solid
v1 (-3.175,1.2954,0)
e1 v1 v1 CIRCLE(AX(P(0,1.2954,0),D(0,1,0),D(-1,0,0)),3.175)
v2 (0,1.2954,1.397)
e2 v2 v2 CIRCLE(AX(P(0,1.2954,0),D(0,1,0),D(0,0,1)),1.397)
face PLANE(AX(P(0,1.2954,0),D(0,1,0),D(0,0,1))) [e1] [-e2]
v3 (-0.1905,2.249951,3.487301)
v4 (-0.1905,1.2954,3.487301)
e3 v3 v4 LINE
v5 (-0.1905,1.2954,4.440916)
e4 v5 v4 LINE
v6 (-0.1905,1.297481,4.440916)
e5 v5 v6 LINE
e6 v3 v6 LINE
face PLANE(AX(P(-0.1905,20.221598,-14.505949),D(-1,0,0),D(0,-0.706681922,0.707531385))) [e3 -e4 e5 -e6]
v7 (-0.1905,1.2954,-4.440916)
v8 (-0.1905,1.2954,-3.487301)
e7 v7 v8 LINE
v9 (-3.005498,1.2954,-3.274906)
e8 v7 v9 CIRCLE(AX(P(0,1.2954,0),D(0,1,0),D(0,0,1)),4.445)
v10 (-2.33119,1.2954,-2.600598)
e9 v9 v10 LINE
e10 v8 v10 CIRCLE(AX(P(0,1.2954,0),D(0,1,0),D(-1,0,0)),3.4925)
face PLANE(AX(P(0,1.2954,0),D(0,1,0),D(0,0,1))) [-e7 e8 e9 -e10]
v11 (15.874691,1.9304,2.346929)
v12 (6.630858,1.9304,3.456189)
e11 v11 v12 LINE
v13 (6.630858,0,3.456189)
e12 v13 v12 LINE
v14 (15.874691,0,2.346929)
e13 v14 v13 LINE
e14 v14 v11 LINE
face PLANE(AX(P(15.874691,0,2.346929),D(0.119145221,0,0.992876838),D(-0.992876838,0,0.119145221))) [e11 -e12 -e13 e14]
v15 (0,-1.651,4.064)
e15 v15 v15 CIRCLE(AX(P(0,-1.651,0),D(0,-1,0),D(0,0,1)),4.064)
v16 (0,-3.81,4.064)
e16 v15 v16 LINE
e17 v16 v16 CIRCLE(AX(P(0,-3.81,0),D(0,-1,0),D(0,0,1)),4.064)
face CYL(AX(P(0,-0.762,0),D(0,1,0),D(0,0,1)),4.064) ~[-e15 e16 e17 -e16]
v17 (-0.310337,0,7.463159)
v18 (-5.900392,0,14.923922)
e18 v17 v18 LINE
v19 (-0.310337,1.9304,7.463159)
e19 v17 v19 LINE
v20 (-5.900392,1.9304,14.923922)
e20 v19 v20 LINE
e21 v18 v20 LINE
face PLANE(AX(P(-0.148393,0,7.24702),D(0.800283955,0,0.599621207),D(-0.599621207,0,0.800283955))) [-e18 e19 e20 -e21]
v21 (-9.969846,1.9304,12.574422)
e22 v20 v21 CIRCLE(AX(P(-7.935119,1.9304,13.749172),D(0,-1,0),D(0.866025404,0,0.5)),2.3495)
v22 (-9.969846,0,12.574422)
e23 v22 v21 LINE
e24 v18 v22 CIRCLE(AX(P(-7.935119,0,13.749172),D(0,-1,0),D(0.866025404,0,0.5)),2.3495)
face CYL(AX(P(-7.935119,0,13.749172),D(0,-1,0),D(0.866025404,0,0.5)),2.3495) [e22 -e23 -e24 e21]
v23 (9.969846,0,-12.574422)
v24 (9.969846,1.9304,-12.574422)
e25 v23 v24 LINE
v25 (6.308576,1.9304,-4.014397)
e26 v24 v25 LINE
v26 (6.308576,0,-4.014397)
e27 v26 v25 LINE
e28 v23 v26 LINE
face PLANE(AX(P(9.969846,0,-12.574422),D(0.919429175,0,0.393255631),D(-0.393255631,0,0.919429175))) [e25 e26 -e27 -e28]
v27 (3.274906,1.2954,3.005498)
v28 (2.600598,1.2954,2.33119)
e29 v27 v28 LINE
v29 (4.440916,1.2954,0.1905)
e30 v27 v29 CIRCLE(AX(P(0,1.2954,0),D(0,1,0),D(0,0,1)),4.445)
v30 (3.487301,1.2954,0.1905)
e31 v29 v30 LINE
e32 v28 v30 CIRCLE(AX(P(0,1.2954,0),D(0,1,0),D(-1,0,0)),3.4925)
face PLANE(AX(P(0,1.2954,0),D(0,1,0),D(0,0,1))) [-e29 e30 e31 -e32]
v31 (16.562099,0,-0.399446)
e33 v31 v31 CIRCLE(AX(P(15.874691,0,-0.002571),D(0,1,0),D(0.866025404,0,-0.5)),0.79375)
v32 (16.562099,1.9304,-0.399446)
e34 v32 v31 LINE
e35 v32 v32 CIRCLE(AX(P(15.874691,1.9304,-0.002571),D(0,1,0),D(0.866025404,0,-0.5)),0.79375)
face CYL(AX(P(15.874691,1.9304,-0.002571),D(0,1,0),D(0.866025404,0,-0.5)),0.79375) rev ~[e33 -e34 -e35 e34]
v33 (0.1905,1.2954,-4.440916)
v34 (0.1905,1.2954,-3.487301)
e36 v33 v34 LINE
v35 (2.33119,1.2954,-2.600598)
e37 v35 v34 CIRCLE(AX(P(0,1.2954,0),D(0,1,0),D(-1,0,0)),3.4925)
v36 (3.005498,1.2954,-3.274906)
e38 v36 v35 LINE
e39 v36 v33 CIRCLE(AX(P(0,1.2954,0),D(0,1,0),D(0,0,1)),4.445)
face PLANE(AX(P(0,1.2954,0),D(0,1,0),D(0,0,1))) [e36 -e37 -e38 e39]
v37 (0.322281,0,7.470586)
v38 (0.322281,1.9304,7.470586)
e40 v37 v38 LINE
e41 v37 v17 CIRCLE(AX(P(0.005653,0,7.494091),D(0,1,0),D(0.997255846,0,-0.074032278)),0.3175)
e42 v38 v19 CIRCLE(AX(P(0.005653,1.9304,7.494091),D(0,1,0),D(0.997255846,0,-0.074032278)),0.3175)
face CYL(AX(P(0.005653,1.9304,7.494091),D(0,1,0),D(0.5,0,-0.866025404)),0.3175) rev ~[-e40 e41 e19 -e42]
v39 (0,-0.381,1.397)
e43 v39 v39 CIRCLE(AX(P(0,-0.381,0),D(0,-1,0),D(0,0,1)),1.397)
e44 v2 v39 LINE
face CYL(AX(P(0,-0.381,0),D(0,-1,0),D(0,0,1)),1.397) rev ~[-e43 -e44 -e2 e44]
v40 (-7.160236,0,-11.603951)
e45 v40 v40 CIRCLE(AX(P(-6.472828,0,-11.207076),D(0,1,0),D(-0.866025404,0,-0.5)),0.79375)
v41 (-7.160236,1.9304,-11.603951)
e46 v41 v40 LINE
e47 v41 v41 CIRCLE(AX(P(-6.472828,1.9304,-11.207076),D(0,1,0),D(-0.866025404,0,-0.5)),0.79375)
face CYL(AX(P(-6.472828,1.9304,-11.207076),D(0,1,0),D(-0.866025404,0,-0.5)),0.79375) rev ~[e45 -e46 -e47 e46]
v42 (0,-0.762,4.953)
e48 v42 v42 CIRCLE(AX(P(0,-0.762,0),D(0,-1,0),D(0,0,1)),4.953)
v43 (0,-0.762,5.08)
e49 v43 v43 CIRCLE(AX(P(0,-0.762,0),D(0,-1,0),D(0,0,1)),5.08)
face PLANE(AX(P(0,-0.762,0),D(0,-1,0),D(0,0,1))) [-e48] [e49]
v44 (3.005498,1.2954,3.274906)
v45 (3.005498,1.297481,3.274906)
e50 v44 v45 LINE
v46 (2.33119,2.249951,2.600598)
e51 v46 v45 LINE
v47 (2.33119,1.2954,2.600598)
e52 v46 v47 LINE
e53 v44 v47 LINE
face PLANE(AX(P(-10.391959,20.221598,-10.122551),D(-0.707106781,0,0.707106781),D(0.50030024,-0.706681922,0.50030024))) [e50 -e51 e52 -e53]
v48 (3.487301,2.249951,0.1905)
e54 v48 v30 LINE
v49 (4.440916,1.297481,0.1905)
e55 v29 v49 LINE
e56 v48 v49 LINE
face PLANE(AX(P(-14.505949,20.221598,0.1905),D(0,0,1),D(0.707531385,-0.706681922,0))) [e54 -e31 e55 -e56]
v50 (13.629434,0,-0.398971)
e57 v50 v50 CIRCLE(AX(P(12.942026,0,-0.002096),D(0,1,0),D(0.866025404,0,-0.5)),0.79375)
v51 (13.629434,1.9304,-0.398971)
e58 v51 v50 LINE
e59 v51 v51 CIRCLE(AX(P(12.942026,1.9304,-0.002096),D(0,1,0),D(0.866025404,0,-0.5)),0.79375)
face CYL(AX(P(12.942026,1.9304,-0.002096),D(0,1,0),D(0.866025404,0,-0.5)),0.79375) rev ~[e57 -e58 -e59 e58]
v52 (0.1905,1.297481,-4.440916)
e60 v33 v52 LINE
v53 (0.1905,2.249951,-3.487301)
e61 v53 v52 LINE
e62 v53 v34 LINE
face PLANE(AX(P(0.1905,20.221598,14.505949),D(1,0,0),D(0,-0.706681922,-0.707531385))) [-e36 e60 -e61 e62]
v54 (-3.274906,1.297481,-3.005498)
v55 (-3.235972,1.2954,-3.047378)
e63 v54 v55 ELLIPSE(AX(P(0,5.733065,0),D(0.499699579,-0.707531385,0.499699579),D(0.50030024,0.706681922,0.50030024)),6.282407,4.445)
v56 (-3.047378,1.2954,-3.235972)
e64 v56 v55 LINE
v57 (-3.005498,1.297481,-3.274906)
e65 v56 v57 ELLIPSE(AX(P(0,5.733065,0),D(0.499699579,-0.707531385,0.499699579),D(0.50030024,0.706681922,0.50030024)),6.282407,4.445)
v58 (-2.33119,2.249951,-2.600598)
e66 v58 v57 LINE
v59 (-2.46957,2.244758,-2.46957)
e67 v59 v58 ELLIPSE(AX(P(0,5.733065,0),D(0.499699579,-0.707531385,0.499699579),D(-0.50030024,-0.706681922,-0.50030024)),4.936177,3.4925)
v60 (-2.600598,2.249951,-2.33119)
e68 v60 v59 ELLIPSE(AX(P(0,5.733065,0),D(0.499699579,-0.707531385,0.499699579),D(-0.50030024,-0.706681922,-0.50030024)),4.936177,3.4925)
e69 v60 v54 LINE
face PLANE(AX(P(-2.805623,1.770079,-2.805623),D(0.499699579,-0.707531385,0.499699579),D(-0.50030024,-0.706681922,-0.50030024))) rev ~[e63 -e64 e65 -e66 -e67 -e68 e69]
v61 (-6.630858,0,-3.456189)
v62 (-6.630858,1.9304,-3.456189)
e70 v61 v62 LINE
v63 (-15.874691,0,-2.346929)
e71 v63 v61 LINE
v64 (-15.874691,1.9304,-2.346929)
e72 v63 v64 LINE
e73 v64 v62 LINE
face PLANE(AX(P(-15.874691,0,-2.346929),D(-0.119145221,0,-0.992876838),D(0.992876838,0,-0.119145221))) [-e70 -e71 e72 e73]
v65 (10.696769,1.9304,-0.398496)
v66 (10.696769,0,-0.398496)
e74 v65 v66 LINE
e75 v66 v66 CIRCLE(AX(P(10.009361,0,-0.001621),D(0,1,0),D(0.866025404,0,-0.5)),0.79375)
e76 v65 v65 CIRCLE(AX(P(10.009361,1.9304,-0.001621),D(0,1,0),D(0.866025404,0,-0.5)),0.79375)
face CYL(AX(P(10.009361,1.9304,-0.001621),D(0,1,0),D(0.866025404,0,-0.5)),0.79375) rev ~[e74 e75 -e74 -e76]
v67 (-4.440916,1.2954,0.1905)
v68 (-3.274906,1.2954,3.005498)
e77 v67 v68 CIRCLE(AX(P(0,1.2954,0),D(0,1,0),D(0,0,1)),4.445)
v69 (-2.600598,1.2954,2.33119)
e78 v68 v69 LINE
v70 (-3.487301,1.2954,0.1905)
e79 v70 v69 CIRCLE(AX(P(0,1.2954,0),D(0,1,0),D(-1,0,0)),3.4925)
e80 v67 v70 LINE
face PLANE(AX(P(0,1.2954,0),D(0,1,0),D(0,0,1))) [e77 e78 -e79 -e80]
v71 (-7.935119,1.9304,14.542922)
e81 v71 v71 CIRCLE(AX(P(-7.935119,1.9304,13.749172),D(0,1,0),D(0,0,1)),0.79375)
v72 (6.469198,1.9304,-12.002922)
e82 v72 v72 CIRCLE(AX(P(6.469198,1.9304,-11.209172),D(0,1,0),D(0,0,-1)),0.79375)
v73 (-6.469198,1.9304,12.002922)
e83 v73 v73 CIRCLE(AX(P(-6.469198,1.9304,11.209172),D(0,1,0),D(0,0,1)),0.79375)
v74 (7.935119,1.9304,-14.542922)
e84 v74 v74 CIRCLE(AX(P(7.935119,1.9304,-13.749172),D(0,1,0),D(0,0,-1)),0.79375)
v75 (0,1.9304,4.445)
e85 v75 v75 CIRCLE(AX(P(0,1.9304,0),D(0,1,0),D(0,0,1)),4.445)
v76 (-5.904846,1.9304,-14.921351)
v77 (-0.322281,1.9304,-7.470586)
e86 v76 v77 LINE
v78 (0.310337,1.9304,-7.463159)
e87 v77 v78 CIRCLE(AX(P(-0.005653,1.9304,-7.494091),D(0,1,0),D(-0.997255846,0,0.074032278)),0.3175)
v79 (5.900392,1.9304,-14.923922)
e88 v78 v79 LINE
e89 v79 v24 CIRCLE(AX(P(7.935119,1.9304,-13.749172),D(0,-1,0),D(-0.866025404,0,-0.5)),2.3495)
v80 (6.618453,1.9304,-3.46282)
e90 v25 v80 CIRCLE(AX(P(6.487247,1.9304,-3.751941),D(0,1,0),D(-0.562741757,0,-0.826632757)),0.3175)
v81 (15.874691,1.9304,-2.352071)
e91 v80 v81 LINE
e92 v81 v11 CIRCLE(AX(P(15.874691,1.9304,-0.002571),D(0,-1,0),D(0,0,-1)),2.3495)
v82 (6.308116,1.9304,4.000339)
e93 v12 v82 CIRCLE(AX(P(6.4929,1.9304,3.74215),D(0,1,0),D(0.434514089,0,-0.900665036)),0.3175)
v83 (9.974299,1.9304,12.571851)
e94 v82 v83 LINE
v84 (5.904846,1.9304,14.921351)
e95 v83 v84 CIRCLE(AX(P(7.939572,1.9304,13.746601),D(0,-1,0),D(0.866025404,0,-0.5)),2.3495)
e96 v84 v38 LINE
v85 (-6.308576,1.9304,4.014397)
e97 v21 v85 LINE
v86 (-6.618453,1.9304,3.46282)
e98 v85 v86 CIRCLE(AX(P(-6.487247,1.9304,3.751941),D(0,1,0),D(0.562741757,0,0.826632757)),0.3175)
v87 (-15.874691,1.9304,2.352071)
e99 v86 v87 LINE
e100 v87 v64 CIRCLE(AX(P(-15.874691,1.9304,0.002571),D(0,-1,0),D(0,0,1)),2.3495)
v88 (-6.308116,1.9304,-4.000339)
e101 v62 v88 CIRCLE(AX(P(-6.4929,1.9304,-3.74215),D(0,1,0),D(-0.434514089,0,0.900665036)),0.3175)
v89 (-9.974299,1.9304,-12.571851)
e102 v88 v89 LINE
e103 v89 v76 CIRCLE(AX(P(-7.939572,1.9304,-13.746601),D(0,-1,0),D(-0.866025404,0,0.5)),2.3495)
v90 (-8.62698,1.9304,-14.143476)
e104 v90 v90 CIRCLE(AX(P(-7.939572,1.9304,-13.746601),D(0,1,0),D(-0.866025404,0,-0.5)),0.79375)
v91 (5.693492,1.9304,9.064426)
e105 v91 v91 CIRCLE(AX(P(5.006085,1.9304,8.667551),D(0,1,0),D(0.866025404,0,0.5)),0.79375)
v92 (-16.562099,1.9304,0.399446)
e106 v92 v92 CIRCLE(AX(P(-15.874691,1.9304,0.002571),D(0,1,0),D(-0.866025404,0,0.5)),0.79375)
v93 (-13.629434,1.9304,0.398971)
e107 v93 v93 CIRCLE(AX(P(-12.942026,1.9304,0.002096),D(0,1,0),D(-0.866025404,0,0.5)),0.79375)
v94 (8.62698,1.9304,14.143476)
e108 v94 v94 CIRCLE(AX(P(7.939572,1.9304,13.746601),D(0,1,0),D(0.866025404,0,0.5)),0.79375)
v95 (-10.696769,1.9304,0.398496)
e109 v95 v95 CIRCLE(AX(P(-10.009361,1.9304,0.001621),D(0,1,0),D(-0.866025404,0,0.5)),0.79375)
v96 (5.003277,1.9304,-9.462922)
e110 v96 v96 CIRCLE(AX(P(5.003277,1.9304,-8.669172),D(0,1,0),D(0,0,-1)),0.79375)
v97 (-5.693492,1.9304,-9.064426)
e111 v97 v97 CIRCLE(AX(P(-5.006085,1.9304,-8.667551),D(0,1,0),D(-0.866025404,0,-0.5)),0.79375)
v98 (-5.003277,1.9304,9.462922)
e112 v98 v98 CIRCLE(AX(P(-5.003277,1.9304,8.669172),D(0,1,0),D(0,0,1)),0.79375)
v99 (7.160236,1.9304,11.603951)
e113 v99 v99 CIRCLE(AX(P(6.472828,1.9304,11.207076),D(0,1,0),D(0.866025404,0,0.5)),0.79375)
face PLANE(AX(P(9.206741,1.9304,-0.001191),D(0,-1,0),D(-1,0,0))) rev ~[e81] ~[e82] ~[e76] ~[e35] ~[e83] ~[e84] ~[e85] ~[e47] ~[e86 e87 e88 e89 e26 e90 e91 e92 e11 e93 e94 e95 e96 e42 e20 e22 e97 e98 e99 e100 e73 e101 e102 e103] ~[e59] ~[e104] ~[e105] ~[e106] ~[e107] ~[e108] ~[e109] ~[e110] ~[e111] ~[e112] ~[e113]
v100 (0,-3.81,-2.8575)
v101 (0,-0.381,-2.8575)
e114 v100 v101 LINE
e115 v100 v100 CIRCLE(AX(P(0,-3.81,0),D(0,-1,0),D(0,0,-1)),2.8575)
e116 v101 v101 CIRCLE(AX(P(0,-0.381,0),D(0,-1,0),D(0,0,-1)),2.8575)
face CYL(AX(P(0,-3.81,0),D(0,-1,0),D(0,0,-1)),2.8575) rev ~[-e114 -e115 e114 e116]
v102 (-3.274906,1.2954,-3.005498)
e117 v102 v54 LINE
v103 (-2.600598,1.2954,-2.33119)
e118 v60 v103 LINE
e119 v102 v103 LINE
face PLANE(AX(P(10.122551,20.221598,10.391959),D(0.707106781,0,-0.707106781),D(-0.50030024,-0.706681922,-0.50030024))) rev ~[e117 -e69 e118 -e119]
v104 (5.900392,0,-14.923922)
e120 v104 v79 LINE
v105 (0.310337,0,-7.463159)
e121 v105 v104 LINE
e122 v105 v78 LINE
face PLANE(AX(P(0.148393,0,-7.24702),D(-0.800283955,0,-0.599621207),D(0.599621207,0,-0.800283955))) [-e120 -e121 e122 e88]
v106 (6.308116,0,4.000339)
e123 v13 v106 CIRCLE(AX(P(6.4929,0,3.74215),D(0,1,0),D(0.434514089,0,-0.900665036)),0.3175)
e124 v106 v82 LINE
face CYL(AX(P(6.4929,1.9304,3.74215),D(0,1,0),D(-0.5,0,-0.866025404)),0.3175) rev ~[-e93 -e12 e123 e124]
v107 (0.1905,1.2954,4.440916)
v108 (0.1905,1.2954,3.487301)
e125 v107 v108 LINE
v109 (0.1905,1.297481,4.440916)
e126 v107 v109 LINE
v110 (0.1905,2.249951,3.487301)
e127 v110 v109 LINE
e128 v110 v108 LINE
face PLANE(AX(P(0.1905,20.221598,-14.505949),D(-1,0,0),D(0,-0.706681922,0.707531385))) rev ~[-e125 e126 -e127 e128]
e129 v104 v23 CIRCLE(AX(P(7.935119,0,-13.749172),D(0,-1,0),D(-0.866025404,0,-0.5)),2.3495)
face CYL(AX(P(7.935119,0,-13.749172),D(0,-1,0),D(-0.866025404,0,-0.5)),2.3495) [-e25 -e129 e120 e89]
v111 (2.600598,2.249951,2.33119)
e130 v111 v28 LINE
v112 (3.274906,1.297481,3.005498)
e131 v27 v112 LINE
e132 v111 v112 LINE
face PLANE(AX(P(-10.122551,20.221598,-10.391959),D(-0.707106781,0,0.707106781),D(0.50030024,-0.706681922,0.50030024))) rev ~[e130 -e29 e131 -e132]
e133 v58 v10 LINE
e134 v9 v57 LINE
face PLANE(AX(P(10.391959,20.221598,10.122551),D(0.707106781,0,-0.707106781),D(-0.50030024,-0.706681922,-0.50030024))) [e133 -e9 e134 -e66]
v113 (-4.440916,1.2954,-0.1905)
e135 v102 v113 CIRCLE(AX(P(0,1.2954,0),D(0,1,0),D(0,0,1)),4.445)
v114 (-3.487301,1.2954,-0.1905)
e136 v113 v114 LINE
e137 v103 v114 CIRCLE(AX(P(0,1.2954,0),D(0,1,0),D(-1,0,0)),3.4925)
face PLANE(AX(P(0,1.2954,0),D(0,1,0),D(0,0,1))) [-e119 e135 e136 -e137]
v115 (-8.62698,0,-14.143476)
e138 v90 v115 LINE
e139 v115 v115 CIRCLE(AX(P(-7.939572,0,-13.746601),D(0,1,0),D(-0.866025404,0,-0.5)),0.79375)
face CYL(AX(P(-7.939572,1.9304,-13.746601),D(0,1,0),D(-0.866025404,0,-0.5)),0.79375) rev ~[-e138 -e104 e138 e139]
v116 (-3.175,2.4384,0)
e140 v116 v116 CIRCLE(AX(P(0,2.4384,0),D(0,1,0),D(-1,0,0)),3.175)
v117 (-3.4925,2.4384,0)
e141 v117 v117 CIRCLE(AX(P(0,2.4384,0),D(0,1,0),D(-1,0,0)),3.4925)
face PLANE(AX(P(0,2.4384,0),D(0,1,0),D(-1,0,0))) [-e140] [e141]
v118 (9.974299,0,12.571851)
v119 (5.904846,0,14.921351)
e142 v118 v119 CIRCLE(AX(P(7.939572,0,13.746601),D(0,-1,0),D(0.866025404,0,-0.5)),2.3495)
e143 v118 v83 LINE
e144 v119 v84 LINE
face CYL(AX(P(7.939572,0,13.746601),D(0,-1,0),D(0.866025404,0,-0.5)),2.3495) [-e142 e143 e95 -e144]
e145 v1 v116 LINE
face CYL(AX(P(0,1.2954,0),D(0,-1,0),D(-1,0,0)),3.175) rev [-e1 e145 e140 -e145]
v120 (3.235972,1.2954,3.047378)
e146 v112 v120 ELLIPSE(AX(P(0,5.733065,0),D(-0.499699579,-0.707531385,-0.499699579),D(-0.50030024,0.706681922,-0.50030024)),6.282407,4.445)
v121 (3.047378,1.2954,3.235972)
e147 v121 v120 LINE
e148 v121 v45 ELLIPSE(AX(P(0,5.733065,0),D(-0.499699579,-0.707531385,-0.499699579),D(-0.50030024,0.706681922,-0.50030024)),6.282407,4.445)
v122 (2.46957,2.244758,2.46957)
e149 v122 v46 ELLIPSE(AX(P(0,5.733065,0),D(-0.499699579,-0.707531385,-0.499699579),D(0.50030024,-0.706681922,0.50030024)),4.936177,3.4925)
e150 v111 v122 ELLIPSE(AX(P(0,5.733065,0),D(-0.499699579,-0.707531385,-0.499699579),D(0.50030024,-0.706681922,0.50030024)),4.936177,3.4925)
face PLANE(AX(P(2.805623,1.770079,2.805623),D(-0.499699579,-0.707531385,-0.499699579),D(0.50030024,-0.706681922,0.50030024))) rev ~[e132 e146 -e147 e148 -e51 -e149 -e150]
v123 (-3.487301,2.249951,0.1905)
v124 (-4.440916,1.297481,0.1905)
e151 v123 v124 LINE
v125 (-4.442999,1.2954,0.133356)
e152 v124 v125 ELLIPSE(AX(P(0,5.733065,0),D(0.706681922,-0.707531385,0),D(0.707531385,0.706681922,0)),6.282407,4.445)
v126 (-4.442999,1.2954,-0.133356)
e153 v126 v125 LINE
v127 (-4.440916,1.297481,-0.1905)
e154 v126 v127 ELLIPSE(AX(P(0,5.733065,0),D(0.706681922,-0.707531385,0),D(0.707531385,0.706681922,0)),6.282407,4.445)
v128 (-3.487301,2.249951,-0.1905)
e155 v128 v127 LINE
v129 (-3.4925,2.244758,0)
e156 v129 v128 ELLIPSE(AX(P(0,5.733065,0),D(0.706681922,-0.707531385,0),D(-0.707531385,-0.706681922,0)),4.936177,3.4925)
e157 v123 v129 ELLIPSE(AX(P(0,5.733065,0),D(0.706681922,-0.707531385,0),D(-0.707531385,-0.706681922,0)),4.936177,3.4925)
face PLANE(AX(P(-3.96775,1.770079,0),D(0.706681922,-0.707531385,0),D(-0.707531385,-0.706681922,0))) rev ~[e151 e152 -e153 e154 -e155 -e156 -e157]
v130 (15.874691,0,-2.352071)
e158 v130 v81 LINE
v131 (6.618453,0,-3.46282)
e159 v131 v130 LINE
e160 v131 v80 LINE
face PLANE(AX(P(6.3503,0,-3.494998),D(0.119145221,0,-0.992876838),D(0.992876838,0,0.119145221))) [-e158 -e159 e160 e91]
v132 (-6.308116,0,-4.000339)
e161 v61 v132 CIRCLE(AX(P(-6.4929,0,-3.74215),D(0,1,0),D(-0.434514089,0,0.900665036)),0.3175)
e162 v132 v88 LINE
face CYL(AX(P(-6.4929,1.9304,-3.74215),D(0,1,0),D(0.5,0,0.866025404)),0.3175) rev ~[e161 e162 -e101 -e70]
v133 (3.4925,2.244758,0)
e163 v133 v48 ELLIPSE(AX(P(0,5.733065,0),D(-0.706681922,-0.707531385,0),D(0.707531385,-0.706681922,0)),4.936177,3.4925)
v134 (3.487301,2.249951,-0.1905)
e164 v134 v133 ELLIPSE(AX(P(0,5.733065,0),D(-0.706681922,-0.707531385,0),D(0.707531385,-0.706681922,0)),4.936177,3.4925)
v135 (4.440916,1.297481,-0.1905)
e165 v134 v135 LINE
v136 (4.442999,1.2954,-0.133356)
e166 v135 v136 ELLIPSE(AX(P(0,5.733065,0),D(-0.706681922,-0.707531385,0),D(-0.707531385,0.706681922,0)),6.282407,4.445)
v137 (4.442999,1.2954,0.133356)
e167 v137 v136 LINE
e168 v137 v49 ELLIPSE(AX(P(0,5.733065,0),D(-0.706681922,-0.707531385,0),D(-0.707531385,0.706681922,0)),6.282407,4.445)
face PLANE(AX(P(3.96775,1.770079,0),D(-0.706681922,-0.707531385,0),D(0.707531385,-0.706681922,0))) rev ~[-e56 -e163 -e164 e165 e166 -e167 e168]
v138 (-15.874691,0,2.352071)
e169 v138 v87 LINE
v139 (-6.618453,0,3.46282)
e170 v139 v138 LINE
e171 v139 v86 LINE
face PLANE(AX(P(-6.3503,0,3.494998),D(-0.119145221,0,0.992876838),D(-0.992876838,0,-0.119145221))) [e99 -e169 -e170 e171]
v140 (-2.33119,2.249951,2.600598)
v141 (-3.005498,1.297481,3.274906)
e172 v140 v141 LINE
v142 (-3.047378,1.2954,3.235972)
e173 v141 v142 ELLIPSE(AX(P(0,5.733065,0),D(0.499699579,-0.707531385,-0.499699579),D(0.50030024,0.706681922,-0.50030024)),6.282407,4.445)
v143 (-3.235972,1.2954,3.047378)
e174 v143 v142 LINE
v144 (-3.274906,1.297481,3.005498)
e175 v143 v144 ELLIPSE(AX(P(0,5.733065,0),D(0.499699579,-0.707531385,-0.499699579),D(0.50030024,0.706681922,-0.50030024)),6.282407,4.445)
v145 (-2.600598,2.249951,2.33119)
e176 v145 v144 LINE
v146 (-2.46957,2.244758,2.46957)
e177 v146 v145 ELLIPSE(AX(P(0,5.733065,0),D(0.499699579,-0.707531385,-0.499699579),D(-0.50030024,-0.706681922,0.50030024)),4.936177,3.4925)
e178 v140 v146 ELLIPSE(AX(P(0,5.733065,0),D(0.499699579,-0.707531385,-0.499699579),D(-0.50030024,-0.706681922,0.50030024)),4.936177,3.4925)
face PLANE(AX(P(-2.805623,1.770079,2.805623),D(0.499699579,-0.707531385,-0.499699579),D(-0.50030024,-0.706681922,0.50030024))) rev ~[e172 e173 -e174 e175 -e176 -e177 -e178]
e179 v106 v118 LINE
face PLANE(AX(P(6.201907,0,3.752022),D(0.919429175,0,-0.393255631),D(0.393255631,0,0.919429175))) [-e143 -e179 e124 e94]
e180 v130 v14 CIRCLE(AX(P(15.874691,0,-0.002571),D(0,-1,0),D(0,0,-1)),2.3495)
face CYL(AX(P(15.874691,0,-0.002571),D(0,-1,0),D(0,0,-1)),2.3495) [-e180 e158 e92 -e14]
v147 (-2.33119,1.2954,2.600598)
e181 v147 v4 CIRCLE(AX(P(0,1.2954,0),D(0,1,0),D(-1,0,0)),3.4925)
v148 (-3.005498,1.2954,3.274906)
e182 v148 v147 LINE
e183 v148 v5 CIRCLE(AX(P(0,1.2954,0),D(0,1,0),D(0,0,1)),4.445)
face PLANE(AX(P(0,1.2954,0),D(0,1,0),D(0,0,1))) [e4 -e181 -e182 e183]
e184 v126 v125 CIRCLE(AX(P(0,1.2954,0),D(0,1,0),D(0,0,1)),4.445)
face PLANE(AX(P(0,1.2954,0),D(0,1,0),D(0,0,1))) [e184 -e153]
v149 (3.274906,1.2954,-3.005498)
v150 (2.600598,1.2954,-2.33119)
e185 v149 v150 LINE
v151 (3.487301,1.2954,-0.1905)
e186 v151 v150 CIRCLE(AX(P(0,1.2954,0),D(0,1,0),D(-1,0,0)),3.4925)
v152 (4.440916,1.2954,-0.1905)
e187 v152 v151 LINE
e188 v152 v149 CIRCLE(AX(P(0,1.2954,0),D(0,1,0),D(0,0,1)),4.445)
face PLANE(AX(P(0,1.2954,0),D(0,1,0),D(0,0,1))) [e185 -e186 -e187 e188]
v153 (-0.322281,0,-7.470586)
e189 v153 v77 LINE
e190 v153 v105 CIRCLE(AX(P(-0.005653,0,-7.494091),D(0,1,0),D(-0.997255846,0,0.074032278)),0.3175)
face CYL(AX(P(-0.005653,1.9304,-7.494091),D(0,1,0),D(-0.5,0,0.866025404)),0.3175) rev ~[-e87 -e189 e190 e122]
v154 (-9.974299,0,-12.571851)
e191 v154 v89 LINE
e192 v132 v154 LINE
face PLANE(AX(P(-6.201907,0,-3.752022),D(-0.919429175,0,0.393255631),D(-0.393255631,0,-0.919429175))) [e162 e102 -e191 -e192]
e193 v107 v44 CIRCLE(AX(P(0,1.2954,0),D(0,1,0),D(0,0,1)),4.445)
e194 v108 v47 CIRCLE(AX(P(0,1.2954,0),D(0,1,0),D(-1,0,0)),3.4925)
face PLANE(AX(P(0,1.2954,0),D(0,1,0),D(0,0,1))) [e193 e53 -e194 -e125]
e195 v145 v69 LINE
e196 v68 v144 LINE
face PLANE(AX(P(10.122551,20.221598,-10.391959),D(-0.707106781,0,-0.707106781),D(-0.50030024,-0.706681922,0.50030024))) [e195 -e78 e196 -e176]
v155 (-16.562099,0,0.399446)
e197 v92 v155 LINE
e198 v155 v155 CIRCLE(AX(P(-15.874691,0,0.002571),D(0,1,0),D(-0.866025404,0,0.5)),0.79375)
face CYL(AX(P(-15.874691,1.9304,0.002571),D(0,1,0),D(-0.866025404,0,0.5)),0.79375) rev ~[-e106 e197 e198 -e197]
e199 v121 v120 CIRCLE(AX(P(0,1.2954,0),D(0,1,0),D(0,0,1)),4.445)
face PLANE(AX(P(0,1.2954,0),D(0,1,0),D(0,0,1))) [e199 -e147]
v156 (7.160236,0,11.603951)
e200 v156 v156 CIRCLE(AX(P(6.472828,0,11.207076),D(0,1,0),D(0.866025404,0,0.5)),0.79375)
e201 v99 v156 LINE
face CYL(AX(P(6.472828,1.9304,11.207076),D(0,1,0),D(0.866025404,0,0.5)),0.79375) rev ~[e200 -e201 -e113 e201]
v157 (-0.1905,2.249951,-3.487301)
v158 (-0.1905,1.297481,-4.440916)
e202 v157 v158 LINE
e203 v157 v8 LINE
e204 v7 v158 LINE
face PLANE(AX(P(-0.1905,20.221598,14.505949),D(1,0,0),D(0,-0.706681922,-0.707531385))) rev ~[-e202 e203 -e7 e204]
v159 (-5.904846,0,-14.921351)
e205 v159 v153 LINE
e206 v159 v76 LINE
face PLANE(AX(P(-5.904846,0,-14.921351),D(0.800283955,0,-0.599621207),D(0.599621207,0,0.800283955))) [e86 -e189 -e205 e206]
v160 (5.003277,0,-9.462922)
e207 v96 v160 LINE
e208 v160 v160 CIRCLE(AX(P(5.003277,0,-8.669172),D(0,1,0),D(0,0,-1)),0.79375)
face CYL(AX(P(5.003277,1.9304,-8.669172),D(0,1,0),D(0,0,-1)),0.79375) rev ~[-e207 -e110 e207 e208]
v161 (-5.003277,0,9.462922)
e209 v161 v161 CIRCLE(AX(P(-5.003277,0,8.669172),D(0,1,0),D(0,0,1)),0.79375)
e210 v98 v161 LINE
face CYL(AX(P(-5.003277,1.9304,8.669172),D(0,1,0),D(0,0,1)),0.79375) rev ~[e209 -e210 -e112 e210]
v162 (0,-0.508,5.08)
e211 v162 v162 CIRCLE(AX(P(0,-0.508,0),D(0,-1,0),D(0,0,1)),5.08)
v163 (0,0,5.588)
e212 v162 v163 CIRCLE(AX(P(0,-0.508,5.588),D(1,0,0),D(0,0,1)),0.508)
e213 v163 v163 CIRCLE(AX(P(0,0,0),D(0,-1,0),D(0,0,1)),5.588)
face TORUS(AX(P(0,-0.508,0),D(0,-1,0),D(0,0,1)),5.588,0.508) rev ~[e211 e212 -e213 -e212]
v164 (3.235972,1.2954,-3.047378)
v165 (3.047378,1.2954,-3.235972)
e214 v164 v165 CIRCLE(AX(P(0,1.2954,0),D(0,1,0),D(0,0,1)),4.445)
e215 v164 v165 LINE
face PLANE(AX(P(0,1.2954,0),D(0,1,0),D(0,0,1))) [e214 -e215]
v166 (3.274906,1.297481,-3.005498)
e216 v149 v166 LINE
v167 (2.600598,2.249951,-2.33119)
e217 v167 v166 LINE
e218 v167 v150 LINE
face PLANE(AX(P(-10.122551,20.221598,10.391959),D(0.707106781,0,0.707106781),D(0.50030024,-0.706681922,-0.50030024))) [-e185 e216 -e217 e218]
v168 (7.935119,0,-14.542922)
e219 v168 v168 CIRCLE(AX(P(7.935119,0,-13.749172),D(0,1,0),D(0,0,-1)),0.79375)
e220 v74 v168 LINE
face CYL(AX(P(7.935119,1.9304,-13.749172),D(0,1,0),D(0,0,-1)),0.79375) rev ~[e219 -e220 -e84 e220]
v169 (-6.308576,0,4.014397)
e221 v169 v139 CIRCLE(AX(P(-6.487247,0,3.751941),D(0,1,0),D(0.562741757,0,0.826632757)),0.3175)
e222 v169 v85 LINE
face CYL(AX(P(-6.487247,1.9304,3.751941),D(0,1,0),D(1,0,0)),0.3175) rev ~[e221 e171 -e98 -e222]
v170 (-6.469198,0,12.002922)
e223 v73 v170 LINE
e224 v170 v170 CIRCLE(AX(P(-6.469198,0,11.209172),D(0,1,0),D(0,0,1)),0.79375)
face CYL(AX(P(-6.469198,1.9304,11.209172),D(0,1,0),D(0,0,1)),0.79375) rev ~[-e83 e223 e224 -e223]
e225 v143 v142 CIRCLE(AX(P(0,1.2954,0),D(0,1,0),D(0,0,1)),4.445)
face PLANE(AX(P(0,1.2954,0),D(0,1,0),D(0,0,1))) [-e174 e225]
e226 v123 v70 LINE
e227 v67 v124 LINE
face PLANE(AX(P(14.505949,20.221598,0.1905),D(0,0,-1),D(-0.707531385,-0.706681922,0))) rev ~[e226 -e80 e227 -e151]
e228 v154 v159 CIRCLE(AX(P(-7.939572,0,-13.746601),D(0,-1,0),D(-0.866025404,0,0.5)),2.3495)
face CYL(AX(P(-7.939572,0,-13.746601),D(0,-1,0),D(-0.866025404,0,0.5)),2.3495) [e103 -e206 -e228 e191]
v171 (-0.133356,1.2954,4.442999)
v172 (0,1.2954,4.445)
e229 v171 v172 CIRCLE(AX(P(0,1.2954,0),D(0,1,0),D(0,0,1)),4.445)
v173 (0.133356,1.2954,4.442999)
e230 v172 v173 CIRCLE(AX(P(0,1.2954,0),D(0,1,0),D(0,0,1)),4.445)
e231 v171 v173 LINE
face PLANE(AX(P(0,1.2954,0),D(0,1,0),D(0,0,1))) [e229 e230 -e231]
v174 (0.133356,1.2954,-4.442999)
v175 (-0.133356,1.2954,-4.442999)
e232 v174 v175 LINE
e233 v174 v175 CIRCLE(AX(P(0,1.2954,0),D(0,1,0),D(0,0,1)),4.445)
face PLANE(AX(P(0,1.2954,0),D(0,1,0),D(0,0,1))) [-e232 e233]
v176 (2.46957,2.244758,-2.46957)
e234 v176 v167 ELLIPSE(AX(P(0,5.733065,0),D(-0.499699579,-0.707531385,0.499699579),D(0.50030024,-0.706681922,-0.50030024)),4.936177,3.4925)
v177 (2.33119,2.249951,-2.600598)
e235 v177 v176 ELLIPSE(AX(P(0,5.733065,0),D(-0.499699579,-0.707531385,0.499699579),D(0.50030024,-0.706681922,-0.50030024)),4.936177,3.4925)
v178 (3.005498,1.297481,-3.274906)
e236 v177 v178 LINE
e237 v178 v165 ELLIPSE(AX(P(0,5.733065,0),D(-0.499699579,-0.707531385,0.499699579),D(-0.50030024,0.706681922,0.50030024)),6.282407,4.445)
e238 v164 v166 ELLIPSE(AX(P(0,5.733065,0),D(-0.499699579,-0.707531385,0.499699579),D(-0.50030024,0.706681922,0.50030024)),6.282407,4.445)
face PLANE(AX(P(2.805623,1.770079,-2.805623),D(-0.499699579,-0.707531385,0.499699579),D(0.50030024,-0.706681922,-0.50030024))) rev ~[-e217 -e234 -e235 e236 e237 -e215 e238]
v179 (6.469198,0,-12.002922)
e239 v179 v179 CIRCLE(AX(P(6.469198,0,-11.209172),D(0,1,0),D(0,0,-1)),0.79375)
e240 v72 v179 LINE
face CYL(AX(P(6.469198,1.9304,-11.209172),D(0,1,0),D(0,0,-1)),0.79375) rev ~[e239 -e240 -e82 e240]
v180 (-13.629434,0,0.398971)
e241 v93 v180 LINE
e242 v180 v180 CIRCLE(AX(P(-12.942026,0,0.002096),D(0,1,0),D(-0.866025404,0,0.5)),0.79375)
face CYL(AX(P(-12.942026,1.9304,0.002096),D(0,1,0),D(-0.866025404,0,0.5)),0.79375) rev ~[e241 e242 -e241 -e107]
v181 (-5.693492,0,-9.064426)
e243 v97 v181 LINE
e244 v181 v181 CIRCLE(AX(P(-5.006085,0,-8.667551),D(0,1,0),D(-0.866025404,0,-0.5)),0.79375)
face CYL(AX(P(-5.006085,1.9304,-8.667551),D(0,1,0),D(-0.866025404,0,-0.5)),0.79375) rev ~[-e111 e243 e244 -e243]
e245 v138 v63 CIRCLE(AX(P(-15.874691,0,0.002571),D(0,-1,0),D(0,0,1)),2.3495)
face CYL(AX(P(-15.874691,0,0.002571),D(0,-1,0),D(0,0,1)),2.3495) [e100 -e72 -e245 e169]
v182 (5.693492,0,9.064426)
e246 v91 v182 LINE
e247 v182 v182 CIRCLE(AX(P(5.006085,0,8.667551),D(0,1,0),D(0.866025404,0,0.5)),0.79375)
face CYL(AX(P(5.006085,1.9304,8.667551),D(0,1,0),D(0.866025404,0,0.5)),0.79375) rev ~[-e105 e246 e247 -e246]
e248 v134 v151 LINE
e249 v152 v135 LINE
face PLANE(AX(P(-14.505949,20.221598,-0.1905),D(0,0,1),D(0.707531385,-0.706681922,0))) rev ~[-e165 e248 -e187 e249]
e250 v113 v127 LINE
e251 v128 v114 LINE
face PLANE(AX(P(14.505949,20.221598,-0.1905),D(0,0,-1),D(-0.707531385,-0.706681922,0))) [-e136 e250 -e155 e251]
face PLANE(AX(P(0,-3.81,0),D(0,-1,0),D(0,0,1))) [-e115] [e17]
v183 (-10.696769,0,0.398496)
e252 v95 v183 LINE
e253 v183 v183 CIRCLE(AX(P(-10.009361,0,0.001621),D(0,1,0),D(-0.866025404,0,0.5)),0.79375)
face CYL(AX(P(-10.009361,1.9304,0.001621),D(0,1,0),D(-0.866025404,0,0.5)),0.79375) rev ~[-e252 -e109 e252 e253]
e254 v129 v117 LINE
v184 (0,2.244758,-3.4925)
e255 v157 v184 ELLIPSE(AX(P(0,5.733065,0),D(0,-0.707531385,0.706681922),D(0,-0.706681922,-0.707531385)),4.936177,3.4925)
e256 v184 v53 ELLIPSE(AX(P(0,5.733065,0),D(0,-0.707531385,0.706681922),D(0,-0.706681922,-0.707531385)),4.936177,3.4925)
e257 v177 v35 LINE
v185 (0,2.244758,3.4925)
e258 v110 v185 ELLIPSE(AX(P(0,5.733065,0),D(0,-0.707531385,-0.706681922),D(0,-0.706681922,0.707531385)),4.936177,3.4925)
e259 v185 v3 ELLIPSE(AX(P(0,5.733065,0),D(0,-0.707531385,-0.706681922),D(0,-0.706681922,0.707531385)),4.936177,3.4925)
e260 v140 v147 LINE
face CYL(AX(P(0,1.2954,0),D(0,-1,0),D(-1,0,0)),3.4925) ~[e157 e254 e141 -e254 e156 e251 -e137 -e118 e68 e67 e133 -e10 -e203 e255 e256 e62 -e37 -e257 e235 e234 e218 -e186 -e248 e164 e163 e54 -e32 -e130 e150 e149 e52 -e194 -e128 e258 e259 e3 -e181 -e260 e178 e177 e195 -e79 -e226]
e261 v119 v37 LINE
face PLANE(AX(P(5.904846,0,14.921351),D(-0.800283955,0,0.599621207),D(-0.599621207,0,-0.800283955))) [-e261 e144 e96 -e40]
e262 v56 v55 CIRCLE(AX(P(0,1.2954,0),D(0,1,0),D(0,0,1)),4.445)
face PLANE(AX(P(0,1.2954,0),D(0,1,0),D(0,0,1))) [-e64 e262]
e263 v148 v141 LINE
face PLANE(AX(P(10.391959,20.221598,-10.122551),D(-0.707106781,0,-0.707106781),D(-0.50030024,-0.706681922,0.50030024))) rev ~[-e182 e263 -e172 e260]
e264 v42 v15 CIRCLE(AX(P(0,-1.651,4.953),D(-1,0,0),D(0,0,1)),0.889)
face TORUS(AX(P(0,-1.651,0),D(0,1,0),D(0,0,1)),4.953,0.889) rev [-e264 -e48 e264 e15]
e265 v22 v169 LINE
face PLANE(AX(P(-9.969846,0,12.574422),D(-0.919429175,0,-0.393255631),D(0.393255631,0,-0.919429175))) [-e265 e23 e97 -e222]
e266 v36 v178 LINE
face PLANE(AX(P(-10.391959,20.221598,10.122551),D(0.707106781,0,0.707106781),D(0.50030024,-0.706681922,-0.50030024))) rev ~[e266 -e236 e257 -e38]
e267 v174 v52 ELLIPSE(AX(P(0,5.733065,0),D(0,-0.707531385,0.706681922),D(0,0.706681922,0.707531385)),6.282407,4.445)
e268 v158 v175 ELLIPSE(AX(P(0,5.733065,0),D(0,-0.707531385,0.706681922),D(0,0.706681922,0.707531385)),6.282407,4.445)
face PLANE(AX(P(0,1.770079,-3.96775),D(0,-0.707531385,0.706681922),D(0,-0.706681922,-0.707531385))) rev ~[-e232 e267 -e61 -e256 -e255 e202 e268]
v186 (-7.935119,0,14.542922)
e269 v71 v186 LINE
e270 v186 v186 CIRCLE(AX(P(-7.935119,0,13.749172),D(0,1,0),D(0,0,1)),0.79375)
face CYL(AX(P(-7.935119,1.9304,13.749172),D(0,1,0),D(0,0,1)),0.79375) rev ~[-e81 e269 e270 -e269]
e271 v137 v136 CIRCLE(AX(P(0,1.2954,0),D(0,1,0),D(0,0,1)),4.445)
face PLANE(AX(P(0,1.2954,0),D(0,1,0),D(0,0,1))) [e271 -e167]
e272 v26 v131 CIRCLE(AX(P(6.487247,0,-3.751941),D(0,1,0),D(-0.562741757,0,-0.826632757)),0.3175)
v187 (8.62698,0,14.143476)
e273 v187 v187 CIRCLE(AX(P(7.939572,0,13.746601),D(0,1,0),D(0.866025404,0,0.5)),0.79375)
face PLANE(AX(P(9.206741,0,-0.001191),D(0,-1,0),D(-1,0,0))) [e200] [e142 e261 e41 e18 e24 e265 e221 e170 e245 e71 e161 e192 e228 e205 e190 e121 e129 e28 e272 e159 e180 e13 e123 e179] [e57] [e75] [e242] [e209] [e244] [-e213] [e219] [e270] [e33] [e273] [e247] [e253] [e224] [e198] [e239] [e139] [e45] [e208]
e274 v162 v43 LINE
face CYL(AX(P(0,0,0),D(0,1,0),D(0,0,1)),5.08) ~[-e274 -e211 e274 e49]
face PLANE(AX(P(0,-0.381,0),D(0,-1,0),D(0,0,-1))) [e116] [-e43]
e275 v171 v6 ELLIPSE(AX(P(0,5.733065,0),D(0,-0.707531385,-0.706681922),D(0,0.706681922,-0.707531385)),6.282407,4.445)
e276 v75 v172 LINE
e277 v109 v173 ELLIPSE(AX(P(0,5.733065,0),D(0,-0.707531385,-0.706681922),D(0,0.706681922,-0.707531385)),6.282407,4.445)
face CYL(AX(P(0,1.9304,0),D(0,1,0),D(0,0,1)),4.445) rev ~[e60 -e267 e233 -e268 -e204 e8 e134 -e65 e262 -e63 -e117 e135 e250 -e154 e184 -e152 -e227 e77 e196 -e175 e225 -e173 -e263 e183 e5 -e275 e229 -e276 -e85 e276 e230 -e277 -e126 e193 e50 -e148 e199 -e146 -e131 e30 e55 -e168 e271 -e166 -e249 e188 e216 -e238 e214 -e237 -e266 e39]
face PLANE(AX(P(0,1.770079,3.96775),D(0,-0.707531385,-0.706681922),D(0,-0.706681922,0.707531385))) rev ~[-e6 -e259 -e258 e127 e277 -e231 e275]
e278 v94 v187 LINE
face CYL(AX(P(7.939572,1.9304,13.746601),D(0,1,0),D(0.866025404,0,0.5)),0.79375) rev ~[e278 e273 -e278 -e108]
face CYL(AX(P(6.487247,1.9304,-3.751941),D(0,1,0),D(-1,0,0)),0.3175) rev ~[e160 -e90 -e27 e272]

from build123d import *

# Parameters (mm, degrees)
EXTRUDE4_DEPTH          = 1.9304
SKETCH2_R               = 0.6604
CUT_EXTRUDE1_DEPTH      = 19.722050478
CIRPATTERN4_COUNT       = 6
CUT_EXTRUDE2_DEPTH      = 12.7
CUT_EXTRUDE2_DEPTH_BACK = 12.7
SKETCH3_R               = 1.397
SKETCH4_R               = 4.445
CUT_EXTRUDE3_DEPTH      = 0.635
SKETCH5_R               = 3.4925
SKETCH5_R_2             = 3.175
EXTRUDE5_DEPTH          = 1.143
RIB10_REACH             = 26.438
SKETCH8_WALL_W          = 52.220152264
SKETCH8_WALL_H          = 0.381
CIRPATTERN5_COUNT       = 8
SKETCH9_R               = 0.79375
CUT_EXTRUDE4_DEPTH      = 25.392925761
CIRPATTERN6_COUNT       = 6
SKETCH10_R              = 5.08
EXTRUDE6_DEPTH          = 0.762
FILLET2_R               = 0.508
SKETCH11_R              = 4.064
EXTRUDE7_DEPTH          = 3.048
FILLET3_R               = 0.889
SKETCH12_R              = 2.8575
CUT_EXTRUDE5_DEPTH      = 3.429
SKETCH14_R              = 1.397
CUT_EXTRUDE6_DEPTH      = 25.557003564
SKETCH15_R              = 0.3175
CUT_EXTRUDE7_DEPTH      = 25.984806887
CIRPATTERN7_COUNT       = 6


with BuildPart() as part:
    # Sketch1 → Extrude4 (new body)
    with BuildSketch(Plane(origin=(0, 0, 0), x_dir=(1, 0, 0), z_dir=(0, 1, 0))):
        with BuildLine():
            Line((5.775220615, -3.829827046), (0, 0))
            Line((0, 0), (5.775220615, 3.829827046))
            Line((5.775220615, 3.829827046), (6.35029977, 3.829827046))
            Line((6.35029977, 3.829827046), (6.35029977, 3.494998084))
            Line((6.35029977, 3.494998084), (15.87469147, 2.35207108))
            ThreePointArc((15.87469147, 2.35207108), (18.22419147, 0.00257108), (15.87469147, -2.34692892))
            Line((15.87469147, -2.34692892), (6.34969147, -3.48992892))
            Line((6.34969147, -3.48992892), (6.34969147, -3.829827046))
            Line((6.34969147, -3.829827046), (5.775220615, -3.829827046))
        make_face()
    extrude4 = extrude(amount=EXTRUDE4_DEPTH)

    # Sketch2 → Cut-Extrude1 (cut, through all)
    with BuildSketch(Plane(origin=(0, 1.9304, 0), x_dir=(-1, 0, 0), z_dir=(0, 1, 0))):
        with Locations((-6.342552501, -4.149920748)):
            Circle(SKETCH2_R)
        with Locations((-6.342552501, 4.149920748)):
            Circle(SKETCH2_R)
    extrude(amount=-CUT_EXTRUDE1_DEPTH, mode=Mode.SUBTRACT)

    # CirPattern4: Extrude4 ×6 about axis
    cirpattern4_axis = Axis((0, 0, 0), (0, 1, 0))
    for i in range(1, CIRPATTERN4_COUNT):
        add(extrude4.rotate(cirpattern4_axis, i * 360 / CIRPATTERN4_COUNT))

    # Sketch3 → Cut-Extrude2 (cut, two sides: drawn at the far end of the back side and taken through both)
    with BuildSketch(Plane(origin=(0, 1.9304, 0), x_dir=(-1, 0, 0), z_dir=(0, 1, 0)).offset(-CUT_EXTRUDE2_DEPTH_BACK)):
        Circle(SKETCH3_R)
    extrude(amount=CUT_EXTRUDE2_DEPTH + CUT_EXTRUDE2_DEPTH_BACK, mode=Mode.SUBTRACT)

    # Sketch4 → Cut-Extrude3 (cut)
    with BuildSketch(Plane(origin=(0, 1.9304, 0), x_dir=(-1, 0, 0), z_dir=(0, 1, 0))):
        Circle(SKETCH4_R)
    extrude(amount=-CUT_EXTRUDE3_DEPTH, mode=Mode.SUBTRACT)

    # Sketch5 → Extrude5 (add)
    with BuildSketch(Plane(origin=(0, 1.2954, 0), x_dir=(-1, 0, 0), z_dir=(0, 1, 0))):
        Circle(SKETCH5_R)
        Circle(SKETCH5_R_2, mode=Mode.SUBTRACT)
    extrude(amount=EXTRUDE5_DEPTH)

    # Sketch8 wall → Rib10 (add, up to next)
    with BuildSketch(Plane(origin=(-3.967749561, 1.770078976, 0), x_dir=(-0.70753138537, -0.706681921883, 0), z_dir=(0.706681921883, -0.70753138537, 0)), mode=Mode.PRIVATE) as rib10_sk1:
        Rectangle(SKETCH8_WALL_W, SKETCH8_WALL_H)
    rib10_tool1 = extrude(rib10_sk1.sketch, amount=RIB10_REACH, mode=Mode.PRIVATE) - part.part
    rib10 = rib10_tool1.solids().sort_by_distance((-3.967749561, 1.770078976, 0))[0]
    add(rib10)

    # CirPattern5: Rib10 ×8 about axis
    cirpattern5_axis = Axis((0, 0, 0), (0, 1, 0))
    for i in range(1, CIRPATTERN5_COUNT):
        add(rib10.rotate(cirpattern5_axis, i * 360 / CIRPATTERN5_COUNT))

    # Sketch9 → Cut-Extrude4 (cut, through all)
    with BuildSketch(Plane(origin=(0, 1.9304, 0), x_dir=(-1, 0, 0), z_dir=(0, 1, 0))):
        with Locations((7.935119114, 13.749171631)):
            Circle(SKETCH9_R)
        with Locations((6.469197887, 11.209171631)):
            Circle(SKETCH9_R)
        with Locations((5.00327666, 8.669171631)):
            Circle(SKETCH9_R)
    cut_extrude4 = extrude(amount=-CUT_EXTRUDE4_DEPTH, mode=Mode.SUBTRACT)

    # CirPattern6: Cut-Extrude4 ×6 about axis
    cirpattern6_axis = Axis((0, 0, 0), (0, 1, 0))
    for i in range(1, CIRPATTERN6_COUNT):
        add(cut_extrude4.rotate(cirpattern6_axis, i * 360 / CIRPATTERN6_COUNT), mode=Mode.SUBTRACT)

    # Sketch10 → Extrude6 (add)
    with BuildSketch(Plane.XZ):
        Circle(SKETCH10_R)
    extrude(amount=EXTRUDE6_DEPTH)

    # Fillet2
    fillet2_edges = [part.edges().sort_by_distance(p)[0] for p in [
        (-5.08, 0, 0),
    ]]
    fillet(fillet2_edges, radius=FILLET2_R)

    # Sketch11 → Extrude7 (add)
    with BuildSketch(Plane.XZ.offset(0.762)):
        Circle(SKETCH11_R)
    extrude(amount=EXTRUDE7_DEPTH)

    # Fillet3
    fillet3_edges = [part.edges().sort_by_distance(p)[0] for p in [
        (-4.064, -0.762, 0),
    ]]
    fillet(fillet3_edges, radius=FILLET3_R)

    # Sketch12 → Cut-Extrude5 (cut)
    with BuildSketch(Plane.XZ.offset(3.81)):
        Circle(SKETCH12_R)
    extrude(amount=-CUT_EXTRUDE5_DEPTH, mode=Mode.SUBTRACT)

    # Sketch14 → Cut-Extrude6 (cut, through all)
    with BuildSketch(Plane.XZ.offset(0.381)):
        Circle(SKETCH14_R)
    extrude(amount=-CUT_EXTRUDE6_DEPTH, mode=Mode.SUBTRACT)

    # Sketch15 → Cut-Extrude7 (cut, symmetric)
    with BuildSketch(Plane(origin=(0, 1.9304, 0), x_dir=(-1, 0, 0), z_dir=(0, 1, 0))):
        with Locations((-6.48724684, -3.751940905)):
            Circle(SKETCH15_R)
    cut_extrude7 = extrude(amount=CUT_EXTRUDE7_DEPTH, both=True, mode=Mode.SUBTRACT)

    # CirPattern7: Cut-Extrude7 ×6 about axis
    cirpattern7_axis = Axis((0, 0, 0), (0, 1, 0))
    for i in range(1, CIRPATTERN7_COUNT):
        add(cut_extrude7.rotate(cirpattern7_axis, i * 360 / CIRPATTERN7_COUNT), mode=Mode.SUBTRACT)


solid = part.part
